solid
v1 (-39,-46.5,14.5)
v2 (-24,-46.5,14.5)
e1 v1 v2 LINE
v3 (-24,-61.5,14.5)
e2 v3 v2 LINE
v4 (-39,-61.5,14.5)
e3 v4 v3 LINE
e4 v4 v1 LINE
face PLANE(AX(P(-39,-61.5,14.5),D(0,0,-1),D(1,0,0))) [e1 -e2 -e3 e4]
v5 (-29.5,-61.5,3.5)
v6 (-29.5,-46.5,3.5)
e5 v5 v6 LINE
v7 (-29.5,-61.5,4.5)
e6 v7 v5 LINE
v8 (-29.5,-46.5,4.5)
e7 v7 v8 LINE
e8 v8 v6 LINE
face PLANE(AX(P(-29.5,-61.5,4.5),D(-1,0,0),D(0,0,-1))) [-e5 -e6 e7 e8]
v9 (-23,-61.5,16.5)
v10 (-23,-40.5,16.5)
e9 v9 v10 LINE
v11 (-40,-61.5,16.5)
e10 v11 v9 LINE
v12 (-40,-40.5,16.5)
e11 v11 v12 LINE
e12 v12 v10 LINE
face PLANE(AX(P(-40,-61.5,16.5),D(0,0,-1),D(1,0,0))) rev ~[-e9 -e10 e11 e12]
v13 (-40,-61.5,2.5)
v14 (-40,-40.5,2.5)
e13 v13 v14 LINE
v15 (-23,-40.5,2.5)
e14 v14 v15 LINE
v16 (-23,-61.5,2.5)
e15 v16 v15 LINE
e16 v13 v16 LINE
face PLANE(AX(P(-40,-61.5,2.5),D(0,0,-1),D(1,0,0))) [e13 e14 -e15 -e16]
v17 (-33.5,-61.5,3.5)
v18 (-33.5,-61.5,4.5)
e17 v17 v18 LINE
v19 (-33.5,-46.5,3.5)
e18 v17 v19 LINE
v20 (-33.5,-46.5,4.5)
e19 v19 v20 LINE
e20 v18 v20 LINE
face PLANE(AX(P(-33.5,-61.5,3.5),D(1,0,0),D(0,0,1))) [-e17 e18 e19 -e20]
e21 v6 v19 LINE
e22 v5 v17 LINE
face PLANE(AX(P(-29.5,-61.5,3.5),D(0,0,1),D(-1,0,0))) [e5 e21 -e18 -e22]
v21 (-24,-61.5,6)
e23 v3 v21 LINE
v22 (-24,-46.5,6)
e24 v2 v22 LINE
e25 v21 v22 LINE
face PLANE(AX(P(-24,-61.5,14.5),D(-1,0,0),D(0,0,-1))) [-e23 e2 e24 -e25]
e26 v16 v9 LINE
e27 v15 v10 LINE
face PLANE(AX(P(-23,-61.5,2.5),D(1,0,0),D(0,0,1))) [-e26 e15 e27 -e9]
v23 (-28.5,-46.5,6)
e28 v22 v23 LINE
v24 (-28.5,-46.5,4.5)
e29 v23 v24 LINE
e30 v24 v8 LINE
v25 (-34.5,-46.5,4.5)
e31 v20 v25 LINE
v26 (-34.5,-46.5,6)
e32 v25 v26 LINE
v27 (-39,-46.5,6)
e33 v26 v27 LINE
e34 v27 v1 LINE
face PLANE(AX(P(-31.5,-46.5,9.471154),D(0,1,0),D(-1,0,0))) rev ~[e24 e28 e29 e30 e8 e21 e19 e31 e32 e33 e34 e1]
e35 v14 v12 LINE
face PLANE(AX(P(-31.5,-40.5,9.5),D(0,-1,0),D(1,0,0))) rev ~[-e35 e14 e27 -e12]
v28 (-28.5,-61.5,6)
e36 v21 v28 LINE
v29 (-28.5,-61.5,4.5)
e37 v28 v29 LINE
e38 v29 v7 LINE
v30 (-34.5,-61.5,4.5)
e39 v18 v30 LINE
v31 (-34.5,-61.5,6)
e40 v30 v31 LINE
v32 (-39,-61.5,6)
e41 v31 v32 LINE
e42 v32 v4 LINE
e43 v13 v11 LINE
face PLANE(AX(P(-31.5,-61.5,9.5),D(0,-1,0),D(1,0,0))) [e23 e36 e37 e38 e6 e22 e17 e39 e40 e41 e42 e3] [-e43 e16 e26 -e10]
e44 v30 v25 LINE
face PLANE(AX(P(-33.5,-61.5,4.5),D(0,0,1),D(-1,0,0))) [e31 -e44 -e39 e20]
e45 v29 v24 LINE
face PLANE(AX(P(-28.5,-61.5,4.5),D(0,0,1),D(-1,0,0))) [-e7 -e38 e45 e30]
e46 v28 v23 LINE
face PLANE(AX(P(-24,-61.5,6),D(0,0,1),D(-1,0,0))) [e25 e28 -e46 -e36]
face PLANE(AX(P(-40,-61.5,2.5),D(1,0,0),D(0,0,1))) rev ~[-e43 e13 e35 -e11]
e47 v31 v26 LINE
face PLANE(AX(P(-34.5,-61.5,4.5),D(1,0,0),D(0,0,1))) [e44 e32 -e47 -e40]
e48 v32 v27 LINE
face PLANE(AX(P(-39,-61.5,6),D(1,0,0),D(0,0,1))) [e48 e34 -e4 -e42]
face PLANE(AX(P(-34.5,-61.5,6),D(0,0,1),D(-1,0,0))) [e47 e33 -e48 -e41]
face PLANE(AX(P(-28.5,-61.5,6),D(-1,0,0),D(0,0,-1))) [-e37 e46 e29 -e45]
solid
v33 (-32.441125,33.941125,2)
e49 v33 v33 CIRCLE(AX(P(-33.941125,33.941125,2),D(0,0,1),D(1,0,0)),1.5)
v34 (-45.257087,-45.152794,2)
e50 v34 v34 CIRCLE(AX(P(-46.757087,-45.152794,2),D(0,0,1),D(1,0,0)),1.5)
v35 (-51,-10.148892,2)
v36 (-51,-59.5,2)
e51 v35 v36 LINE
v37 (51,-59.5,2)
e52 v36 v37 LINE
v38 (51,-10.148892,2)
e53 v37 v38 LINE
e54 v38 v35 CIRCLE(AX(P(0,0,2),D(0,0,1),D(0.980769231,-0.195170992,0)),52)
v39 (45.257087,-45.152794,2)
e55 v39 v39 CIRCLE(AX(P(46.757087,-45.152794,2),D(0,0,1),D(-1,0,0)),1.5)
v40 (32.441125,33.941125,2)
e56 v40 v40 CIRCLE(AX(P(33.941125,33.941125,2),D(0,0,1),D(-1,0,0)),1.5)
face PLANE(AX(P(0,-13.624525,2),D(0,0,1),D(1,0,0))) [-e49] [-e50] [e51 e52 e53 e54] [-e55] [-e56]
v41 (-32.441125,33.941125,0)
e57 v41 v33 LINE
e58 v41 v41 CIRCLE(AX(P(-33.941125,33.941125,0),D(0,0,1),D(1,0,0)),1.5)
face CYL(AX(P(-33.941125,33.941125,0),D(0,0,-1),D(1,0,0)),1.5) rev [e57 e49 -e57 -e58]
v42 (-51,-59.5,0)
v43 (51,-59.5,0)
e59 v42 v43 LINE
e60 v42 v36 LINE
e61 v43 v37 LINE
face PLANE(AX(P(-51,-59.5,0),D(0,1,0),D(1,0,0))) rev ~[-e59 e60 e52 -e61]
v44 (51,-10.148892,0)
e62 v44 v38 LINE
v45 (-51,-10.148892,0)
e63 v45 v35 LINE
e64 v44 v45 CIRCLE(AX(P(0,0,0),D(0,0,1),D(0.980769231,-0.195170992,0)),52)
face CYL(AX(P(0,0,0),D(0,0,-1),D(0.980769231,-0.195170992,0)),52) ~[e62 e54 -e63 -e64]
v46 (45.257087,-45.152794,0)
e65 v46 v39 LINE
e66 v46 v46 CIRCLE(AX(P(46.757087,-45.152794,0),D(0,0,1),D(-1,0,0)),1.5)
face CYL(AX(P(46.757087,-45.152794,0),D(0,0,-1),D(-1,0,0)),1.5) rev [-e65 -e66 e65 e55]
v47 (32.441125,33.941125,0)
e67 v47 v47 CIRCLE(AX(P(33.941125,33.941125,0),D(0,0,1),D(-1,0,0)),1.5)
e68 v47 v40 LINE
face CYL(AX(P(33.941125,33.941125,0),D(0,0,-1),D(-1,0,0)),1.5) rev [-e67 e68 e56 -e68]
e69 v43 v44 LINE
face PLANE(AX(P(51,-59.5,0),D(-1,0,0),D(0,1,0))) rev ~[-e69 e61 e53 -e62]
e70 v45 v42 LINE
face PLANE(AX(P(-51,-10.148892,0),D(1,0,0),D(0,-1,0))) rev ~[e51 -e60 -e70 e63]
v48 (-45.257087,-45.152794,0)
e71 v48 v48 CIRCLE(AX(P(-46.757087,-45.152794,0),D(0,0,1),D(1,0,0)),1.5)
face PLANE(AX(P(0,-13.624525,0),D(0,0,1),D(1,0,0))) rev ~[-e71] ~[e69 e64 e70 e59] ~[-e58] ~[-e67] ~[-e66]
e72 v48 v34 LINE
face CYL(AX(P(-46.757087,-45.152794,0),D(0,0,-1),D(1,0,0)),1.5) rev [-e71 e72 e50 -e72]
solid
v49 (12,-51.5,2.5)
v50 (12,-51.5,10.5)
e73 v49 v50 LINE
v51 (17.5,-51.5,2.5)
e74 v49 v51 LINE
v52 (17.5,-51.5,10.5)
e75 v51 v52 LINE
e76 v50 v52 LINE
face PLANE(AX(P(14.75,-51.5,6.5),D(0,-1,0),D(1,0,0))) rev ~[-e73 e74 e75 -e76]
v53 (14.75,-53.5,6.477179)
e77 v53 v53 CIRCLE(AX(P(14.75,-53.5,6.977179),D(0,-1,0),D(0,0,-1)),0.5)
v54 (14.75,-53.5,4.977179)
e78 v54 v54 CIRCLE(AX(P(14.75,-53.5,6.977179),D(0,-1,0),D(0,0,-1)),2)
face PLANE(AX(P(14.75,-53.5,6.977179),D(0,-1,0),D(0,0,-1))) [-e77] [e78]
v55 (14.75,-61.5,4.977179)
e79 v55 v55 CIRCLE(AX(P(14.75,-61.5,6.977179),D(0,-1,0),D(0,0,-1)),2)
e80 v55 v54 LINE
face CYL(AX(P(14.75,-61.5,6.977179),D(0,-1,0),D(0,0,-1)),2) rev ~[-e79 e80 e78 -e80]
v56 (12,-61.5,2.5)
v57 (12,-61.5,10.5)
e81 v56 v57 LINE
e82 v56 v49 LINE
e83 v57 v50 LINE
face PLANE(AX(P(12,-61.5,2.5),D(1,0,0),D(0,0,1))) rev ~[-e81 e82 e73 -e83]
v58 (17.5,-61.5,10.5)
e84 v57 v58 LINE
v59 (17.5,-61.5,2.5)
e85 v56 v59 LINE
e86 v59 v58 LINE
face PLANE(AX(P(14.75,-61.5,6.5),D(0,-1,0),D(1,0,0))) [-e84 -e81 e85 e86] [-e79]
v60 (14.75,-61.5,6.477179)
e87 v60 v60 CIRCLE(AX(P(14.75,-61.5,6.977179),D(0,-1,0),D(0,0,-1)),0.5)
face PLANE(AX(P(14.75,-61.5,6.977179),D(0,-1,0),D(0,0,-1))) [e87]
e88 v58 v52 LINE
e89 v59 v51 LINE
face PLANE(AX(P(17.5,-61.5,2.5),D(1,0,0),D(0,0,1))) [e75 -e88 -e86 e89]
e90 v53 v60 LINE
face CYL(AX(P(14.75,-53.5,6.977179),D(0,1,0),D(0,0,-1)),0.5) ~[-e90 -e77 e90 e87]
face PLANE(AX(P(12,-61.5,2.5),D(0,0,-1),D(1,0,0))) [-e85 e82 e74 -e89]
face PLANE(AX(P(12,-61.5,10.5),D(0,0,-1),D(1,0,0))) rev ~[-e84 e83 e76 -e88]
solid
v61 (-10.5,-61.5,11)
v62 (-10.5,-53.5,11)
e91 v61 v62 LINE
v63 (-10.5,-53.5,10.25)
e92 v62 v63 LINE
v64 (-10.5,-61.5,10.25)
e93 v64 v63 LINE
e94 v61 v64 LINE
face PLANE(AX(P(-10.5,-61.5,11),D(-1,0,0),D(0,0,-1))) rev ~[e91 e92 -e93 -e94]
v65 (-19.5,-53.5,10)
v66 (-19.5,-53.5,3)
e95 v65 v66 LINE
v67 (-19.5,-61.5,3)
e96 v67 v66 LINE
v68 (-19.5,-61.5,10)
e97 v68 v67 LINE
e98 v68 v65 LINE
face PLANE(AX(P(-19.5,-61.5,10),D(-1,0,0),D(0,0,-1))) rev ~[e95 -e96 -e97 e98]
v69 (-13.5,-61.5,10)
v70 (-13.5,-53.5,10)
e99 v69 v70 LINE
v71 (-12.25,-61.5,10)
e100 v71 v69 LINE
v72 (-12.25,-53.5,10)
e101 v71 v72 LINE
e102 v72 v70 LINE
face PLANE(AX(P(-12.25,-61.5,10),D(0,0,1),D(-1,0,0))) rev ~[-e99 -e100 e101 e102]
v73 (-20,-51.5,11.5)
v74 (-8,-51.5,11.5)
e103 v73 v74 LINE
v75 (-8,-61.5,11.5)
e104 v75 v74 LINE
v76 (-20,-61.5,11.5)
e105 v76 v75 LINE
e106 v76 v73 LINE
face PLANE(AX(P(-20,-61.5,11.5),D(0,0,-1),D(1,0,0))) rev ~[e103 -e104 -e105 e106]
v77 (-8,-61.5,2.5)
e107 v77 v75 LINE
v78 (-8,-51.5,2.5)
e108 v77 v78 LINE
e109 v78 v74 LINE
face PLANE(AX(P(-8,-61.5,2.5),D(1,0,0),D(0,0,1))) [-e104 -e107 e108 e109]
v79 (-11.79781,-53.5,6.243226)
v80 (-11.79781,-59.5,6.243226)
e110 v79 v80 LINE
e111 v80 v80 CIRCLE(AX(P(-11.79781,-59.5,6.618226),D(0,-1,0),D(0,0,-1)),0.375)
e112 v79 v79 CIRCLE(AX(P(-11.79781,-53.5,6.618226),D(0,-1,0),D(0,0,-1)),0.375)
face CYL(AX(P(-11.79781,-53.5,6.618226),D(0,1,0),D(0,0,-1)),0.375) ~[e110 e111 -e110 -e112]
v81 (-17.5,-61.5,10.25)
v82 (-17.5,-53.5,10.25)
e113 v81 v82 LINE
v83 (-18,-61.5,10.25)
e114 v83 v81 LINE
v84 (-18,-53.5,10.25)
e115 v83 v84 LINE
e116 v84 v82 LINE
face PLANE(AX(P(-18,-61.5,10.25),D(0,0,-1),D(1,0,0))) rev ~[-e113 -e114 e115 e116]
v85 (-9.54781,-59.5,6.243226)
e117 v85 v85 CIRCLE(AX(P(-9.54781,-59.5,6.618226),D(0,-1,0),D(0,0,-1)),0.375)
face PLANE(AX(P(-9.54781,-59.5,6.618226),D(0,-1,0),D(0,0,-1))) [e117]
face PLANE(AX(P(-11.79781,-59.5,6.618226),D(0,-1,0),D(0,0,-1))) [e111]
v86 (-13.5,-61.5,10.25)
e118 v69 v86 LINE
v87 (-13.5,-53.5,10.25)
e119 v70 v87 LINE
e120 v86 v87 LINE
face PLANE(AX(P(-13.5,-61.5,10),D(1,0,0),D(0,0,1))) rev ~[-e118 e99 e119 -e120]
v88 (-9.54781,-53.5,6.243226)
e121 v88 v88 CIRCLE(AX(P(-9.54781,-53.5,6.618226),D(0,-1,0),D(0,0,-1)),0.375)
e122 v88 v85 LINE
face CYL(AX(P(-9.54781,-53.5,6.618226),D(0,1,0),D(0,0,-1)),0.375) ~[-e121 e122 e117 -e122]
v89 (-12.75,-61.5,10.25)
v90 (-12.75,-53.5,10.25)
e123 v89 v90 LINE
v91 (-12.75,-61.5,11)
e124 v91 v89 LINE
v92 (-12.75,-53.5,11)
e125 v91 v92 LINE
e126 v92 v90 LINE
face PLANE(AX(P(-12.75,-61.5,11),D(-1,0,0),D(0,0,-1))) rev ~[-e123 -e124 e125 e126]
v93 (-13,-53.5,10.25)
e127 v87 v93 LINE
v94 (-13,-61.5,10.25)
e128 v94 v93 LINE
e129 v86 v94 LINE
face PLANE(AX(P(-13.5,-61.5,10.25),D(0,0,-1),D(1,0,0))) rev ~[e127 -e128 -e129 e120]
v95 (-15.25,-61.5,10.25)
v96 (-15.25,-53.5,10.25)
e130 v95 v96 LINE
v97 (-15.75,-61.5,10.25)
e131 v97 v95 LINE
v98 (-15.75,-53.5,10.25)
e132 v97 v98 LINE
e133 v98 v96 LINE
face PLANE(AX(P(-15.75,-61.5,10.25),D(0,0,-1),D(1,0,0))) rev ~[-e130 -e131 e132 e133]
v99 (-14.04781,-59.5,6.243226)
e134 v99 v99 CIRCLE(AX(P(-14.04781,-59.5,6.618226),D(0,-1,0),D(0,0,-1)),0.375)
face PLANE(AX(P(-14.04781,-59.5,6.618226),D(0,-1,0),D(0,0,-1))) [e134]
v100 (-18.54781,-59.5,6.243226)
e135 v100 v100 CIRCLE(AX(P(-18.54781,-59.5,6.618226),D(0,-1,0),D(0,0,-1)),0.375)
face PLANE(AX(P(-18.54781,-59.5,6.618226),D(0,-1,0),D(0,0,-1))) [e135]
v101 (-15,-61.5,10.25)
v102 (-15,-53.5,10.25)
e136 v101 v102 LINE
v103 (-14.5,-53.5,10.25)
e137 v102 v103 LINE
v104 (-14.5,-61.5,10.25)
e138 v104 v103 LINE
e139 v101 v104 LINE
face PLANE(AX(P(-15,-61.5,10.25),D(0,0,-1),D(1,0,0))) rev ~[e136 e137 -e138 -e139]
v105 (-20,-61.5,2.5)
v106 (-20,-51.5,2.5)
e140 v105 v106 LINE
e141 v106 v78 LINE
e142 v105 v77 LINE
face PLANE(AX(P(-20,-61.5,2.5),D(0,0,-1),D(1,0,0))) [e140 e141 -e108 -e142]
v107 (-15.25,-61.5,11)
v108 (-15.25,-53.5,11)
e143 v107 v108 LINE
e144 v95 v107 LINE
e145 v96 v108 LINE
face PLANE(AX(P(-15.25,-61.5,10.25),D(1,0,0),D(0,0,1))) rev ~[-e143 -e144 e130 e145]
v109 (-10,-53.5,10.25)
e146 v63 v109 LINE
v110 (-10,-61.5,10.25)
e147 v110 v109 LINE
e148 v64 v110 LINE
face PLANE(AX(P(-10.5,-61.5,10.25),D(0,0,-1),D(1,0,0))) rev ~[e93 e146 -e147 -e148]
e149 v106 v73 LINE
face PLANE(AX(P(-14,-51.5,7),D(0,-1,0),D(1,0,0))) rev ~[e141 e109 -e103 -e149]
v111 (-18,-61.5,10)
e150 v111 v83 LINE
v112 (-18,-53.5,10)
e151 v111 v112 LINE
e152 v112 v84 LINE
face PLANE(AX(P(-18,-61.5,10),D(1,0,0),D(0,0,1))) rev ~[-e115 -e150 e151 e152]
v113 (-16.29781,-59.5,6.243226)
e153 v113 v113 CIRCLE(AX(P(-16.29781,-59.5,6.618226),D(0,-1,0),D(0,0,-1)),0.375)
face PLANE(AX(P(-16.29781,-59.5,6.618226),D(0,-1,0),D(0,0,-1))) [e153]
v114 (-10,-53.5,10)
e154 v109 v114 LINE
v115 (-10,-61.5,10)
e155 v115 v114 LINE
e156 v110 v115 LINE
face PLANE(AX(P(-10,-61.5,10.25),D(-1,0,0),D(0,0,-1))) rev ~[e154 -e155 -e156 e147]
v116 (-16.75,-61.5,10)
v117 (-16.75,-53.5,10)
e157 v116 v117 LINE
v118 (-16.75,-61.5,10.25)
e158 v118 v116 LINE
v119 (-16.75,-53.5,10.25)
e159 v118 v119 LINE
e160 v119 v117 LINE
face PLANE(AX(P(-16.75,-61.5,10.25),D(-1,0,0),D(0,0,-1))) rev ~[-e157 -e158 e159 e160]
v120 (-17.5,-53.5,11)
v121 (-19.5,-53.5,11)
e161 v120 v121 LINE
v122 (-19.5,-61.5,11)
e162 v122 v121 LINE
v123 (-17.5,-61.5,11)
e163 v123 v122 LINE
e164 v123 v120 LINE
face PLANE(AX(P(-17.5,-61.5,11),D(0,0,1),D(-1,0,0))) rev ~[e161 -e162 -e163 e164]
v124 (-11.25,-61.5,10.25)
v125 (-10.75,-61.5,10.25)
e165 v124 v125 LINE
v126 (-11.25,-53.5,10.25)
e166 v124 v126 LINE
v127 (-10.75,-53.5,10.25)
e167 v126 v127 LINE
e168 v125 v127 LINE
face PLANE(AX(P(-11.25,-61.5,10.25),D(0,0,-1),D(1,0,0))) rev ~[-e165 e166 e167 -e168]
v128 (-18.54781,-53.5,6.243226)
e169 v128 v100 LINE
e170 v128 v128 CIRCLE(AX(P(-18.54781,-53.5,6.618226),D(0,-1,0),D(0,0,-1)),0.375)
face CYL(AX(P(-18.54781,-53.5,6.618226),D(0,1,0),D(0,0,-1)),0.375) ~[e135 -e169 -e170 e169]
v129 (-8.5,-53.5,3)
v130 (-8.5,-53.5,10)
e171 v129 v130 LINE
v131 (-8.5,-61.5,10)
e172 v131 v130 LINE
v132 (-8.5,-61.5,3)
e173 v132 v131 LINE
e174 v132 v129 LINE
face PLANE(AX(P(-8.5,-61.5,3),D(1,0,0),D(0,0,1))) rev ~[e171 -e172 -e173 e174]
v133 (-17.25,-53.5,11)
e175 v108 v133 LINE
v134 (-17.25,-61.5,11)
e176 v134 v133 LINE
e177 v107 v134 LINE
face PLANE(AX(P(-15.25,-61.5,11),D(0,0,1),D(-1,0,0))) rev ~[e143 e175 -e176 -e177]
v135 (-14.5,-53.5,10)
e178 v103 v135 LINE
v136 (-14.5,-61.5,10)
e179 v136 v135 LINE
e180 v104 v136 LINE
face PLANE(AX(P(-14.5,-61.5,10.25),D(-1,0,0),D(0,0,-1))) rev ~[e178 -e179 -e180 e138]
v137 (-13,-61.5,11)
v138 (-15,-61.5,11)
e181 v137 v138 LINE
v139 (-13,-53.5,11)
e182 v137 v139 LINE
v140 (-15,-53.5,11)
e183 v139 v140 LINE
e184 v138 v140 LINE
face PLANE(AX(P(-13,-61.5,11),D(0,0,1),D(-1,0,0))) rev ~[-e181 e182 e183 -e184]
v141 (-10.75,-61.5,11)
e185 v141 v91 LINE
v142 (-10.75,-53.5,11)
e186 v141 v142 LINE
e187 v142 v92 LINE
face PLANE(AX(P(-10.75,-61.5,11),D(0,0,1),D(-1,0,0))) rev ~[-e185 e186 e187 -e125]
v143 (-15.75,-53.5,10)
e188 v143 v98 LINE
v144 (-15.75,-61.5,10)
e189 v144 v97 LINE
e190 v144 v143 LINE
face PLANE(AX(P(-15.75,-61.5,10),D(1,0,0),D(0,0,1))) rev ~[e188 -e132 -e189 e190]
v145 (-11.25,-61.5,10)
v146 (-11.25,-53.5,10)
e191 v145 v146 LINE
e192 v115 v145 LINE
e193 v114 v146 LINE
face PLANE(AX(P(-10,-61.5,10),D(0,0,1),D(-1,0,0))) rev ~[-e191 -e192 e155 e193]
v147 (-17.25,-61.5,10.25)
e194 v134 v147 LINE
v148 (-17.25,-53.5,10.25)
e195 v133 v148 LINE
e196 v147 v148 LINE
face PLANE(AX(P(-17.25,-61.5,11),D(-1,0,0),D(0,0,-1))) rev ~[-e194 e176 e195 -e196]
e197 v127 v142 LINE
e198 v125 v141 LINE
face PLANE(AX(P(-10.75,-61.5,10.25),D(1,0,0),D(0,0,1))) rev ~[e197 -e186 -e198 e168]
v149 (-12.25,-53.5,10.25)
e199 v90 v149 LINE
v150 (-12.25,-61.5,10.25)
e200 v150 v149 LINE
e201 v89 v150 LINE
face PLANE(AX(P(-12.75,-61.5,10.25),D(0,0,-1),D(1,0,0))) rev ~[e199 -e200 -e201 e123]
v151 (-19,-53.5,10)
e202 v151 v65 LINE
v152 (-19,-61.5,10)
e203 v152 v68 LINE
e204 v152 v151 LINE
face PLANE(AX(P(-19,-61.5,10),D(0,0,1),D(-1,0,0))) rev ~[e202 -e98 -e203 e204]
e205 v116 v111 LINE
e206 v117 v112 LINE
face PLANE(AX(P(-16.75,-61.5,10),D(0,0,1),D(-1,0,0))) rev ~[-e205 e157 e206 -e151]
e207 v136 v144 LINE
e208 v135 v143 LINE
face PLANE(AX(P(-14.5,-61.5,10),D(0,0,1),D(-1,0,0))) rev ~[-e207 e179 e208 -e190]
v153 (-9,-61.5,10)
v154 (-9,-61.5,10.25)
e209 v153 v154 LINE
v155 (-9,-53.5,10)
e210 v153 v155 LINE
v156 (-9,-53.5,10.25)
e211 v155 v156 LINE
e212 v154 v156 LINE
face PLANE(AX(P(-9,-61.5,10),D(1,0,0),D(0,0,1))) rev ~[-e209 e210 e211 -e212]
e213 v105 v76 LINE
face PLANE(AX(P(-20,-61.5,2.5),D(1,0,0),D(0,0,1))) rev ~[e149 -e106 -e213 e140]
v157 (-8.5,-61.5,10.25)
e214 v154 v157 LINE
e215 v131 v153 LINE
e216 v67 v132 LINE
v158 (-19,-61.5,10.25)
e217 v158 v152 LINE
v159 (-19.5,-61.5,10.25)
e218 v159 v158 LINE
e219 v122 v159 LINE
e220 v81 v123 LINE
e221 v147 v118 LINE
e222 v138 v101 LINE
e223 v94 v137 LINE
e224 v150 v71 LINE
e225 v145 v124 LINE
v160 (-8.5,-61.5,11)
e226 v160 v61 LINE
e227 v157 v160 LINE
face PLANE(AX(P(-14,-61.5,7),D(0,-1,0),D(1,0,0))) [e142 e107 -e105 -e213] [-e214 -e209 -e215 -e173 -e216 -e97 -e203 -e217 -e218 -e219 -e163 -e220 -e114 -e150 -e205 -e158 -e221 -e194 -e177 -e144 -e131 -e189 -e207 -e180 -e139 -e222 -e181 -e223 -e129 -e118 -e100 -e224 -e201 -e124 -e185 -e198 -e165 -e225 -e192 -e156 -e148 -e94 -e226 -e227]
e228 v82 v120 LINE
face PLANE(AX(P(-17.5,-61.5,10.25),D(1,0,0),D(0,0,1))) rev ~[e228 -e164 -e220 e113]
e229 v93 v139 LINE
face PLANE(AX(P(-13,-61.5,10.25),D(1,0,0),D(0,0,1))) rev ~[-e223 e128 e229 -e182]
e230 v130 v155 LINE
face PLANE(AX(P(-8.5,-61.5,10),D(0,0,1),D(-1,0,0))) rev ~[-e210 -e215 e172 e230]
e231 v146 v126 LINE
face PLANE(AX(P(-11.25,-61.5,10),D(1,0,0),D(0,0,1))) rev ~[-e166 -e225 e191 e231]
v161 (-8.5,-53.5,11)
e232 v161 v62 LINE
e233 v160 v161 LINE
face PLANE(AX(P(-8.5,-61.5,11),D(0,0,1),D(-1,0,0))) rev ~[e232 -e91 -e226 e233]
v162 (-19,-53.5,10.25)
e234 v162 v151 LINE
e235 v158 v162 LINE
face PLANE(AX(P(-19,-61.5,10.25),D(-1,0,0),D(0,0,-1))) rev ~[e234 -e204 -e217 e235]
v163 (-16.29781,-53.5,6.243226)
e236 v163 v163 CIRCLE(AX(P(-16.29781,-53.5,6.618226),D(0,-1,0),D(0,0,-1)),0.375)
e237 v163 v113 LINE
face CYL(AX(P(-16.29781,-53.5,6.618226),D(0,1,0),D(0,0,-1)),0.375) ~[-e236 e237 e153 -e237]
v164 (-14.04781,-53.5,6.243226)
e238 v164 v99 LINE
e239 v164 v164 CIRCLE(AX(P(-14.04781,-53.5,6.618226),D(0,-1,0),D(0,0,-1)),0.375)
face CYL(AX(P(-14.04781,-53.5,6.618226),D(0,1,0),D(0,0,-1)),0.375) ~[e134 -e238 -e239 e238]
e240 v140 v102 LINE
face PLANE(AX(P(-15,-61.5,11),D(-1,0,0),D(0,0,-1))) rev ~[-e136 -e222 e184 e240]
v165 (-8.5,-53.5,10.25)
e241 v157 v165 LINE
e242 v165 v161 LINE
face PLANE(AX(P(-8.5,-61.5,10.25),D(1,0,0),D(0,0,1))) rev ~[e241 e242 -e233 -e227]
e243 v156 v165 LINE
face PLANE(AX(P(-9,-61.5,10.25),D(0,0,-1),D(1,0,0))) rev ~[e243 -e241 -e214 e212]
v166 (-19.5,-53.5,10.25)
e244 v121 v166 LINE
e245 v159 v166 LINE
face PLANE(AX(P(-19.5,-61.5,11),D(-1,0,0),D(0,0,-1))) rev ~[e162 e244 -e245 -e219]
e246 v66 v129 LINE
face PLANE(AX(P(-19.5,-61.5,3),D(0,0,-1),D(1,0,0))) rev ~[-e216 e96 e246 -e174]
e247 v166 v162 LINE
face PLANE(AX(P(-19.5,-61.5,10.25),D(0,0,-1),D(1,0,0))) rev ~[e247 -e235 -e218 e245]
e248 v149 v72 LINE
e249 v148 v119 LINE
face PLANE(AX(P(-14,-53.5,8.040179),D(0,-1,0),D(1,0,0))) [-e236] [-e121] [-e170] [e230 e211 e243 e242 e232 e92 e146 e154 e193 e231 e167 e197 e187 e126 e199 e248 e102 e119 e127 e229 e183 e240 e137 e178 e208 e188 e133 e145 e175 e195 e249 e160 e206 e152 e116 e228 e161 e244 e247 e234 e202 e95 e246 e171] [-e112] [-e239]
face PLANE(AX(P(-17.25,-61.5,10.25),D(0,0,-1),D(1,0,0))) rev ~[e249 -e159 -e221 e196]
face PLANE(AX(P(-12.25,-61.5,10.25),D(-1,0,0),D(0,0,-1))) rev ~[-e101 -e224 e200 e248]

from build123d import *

# Parameters (mm, degrees)
ESQUISSE1_R             = 1.5
BOSS_EXTRU_1_DEPTH      = 2
ESQUISSE2_W             = 17
ESQUISSE2_H             = 14
BOSS_EXTRU_2_DEPTH      = 21
ENL_V_MAT_EXTRU_1_DEPTH = 15
ESQUISSE4_W             = 12
ESQUISSE4_H             = 9
BOSS_EXTRU_3_DEPTH      = 10
ENL_V_MAT_EXTRU_2_DEPTH = 8
ESQUISSE6_R             = 0.375
BOSS_EXTRU_4_DEPTH      = 6
ESQUISSE7_W             = 5.5
ESQUISSE7_H             = 8
BOSS_EXTRU_5_DEPTH      = 10
ESQUISSE8_R             = 2
ENL_V_MAT_EXTRU_3_DEPTH = 8
ESQUISSE9_R             = 0.5
BOSS_EXTRU_6_DEPTH      = 8


with BuildPart() as part:
    # Esquisse1 → Boss.-Extru.1 (new body)
    with BuildSketch(Plane.XY):
        with BuildLine():
            Line((-51, -59.5), (51, -59.5))
            Line((51, -59.5), (51, -10.148891565))
            ThreePointArc((51, -10.148891565), (0, 52), (-51, -10.148891565))
            Line((-51, -10.148891565), (-51, -59.5))
        make_face()
        with Locations((-33.941125497, 33.941125497)):
            Circle(ESQUISSE1_R, mode=Mode.SUBTRACT)
        with Locations((-46.757087022, -45.15279408)):
            Circle(ESQUISSE1_R, mode=Mode.SUBTRACT)
        with Locations(Location((33.941125497, 33.941125497, 0), (0, 0, 180))):
            Circle(ESQUISSE1_R, mode=Mode.SUBTRACT)
        with Locations(Location((46.757087022, -45.15279408, 0), (0, 0, 180))):
            Circle(ESQUISSE1_R, mode=Mode.SUBTRACT)
    extrude(amount=BOSS_EXTRU_1_DEPTH)


with BuildPart() as body_2:
    # Esquisse2 → Boss.-Extru.2 (new body)
    with BuildSketch(Plane.XZ.offset(61.5)):
        with Locations((-31.5, 9.5)):
            Rectangle(ESQUISSE2_W, ESQUISSE2_H)
    extrude(amount=-BOSS_EXTRU_2_DEPTH)

    # Esquisse3 → Enlèv. mat.-Extru.1 (cut)
    with BuildSketch(Plane.XZ.offset(61.5)):
        Polygon((-39, 14.5), (-24, 14.5), (-24, 6), (-28.5, 6), (-28.5, 4.5), (-29.5, 4.5), (-29.5, 3.5), (-33.5, 3.5), (-33.5, 4.5), (-34.5, 4.5), (-34.5, 6), (-39, 6), align=None)
    extrude(amount=-ENL_V_MAT_EXTRU_1_DEPTH, mode=Mode.SUBTRACT)


with BuildPart() as body_3:
    # Esquisse4 → Boss.-Extru.3 (new body)
    with BuildSketch(Plane.XZ.offset(61.5)):
        with Locations((-14, 7)):
            Rectangle(ESQUISSE4_W, ESQUISSE4_H)
    extrude(amount=-BOSS_EXTRU_3_DEPTH)

    # Esquisse5 → Enlèv. mat.-Extru.2 (cut)
    with BuildSketch(Plane.XZ.offset(61.5)):
        Polygon((-19.5, 3), (-8.5, 3), (-8.5, 10), (-9, 10), (-9, 10.25), (-8.5, 10.25), (-8.5, 11), (-10.5, 11), (-10.5, 10.25), (-10, 10.25), (-10, 10), (-10.75, 10), (-11.25, 10), (-11.25, 10.25), (-10.75, 10.25), (-10.75, 11), (-12.75, 11), (-12.75, 10.25), (-12.25, 10.25), (-12.25, 10), (-13, 10), (-13.5, 10), (-13.5, 10.25), (-13, 10.25), (-13, 11), (-15, 11), (-15, 10.25), (-14.5, 10.25), (-14.5, 10), (-15.25, 10), (-15.75, 10), (-15.75, 10.25), (-15.25, 10.25), (-15.25, 11), (-17.25, 11), (-17.25, 10.25), (-16.75, 10.25), (-16.75, 10), (-17.5, 10), (-18, 10), (-18, 10.25), (-17.5, 10.25), (-17.5, 11), (-19.5, 11), (-19.5, 10.25), (-19, 10.25), (-19, 10), (-19.5, 10), align=None)
    extrude(amount=-ENL_V_MAT_EXTRU_2_DEPTH, mode=Mode.SUBTRACT)

    # Esquisse6 → Boss.-Extru.4 (add)
    with BuildSketch(Plane.XZ.offset(53.5)):
        with Locations(Location((-18.54781029, 6.618225755, 0), (0, 0, 270))):
            Circle(ESQUISSE6_R)
        with Locations(Location((-16.29781029, 6.618225755, 0), (0, 0, 270))):
            Circle(ESQUISSE6_R)
        with Locations(Location((-14.04781029, 6.618225755, 0), (0, 0, 270))):
            Circle(ESQUISSE6_R)
        with Locations(Location((-11.79781029, 6.618225755, 0), (0, 0, 270))):
            Circle(ESQUISSE6_R)
        with Locations(Location((-9.54781029, 6.618225755, 0), (0, 0, 270))):
            Circle(ESQUISSE6_R)
    extrude(amount=BOSS_EXTRU_4_DEPTH)


with BuildPart() as body_4:
    # Esquisse7 → Boss.-Extru.5 (new body)
    with BuildSketch(Plane.XZ.offset(61.5)):
        with Locations((14.75, 6.5)):
            Rectangle(ESQUISSE7_W, ESQUISSE7_H)
    extrude(amount=-BOSS_EXTRU_5_DEPTH)

    # Esquisse8 → Enlèv. mat.-Extru.3 (cut)
    with BuildSketch(Plane.XZ.offset(61.5)):
        with Locations(Location((14.75, 6.977178827, 0), (0, 0, 270))):
            Circle(ESQUISSE8_R)
    extrude(amount=-ENL_V_MAT_EXTRU_3_DEPTH, mode=Mode.SUBTRACT)

    # Esquisse9 → Boss.-Extru.6 (add)
    with BuildSketch(Plane.XZ.offset(53.5)):
        with Locations(Location((14.75, 6.977178827, 0), (0, 0, 270))):
            Circle(ESQUISSE9_R)
    extrude(amount=BOSS_EXTRU_6_DEPTH)


solid = Compound([part.part, body_2.part, body_3.part, body_4.part])
